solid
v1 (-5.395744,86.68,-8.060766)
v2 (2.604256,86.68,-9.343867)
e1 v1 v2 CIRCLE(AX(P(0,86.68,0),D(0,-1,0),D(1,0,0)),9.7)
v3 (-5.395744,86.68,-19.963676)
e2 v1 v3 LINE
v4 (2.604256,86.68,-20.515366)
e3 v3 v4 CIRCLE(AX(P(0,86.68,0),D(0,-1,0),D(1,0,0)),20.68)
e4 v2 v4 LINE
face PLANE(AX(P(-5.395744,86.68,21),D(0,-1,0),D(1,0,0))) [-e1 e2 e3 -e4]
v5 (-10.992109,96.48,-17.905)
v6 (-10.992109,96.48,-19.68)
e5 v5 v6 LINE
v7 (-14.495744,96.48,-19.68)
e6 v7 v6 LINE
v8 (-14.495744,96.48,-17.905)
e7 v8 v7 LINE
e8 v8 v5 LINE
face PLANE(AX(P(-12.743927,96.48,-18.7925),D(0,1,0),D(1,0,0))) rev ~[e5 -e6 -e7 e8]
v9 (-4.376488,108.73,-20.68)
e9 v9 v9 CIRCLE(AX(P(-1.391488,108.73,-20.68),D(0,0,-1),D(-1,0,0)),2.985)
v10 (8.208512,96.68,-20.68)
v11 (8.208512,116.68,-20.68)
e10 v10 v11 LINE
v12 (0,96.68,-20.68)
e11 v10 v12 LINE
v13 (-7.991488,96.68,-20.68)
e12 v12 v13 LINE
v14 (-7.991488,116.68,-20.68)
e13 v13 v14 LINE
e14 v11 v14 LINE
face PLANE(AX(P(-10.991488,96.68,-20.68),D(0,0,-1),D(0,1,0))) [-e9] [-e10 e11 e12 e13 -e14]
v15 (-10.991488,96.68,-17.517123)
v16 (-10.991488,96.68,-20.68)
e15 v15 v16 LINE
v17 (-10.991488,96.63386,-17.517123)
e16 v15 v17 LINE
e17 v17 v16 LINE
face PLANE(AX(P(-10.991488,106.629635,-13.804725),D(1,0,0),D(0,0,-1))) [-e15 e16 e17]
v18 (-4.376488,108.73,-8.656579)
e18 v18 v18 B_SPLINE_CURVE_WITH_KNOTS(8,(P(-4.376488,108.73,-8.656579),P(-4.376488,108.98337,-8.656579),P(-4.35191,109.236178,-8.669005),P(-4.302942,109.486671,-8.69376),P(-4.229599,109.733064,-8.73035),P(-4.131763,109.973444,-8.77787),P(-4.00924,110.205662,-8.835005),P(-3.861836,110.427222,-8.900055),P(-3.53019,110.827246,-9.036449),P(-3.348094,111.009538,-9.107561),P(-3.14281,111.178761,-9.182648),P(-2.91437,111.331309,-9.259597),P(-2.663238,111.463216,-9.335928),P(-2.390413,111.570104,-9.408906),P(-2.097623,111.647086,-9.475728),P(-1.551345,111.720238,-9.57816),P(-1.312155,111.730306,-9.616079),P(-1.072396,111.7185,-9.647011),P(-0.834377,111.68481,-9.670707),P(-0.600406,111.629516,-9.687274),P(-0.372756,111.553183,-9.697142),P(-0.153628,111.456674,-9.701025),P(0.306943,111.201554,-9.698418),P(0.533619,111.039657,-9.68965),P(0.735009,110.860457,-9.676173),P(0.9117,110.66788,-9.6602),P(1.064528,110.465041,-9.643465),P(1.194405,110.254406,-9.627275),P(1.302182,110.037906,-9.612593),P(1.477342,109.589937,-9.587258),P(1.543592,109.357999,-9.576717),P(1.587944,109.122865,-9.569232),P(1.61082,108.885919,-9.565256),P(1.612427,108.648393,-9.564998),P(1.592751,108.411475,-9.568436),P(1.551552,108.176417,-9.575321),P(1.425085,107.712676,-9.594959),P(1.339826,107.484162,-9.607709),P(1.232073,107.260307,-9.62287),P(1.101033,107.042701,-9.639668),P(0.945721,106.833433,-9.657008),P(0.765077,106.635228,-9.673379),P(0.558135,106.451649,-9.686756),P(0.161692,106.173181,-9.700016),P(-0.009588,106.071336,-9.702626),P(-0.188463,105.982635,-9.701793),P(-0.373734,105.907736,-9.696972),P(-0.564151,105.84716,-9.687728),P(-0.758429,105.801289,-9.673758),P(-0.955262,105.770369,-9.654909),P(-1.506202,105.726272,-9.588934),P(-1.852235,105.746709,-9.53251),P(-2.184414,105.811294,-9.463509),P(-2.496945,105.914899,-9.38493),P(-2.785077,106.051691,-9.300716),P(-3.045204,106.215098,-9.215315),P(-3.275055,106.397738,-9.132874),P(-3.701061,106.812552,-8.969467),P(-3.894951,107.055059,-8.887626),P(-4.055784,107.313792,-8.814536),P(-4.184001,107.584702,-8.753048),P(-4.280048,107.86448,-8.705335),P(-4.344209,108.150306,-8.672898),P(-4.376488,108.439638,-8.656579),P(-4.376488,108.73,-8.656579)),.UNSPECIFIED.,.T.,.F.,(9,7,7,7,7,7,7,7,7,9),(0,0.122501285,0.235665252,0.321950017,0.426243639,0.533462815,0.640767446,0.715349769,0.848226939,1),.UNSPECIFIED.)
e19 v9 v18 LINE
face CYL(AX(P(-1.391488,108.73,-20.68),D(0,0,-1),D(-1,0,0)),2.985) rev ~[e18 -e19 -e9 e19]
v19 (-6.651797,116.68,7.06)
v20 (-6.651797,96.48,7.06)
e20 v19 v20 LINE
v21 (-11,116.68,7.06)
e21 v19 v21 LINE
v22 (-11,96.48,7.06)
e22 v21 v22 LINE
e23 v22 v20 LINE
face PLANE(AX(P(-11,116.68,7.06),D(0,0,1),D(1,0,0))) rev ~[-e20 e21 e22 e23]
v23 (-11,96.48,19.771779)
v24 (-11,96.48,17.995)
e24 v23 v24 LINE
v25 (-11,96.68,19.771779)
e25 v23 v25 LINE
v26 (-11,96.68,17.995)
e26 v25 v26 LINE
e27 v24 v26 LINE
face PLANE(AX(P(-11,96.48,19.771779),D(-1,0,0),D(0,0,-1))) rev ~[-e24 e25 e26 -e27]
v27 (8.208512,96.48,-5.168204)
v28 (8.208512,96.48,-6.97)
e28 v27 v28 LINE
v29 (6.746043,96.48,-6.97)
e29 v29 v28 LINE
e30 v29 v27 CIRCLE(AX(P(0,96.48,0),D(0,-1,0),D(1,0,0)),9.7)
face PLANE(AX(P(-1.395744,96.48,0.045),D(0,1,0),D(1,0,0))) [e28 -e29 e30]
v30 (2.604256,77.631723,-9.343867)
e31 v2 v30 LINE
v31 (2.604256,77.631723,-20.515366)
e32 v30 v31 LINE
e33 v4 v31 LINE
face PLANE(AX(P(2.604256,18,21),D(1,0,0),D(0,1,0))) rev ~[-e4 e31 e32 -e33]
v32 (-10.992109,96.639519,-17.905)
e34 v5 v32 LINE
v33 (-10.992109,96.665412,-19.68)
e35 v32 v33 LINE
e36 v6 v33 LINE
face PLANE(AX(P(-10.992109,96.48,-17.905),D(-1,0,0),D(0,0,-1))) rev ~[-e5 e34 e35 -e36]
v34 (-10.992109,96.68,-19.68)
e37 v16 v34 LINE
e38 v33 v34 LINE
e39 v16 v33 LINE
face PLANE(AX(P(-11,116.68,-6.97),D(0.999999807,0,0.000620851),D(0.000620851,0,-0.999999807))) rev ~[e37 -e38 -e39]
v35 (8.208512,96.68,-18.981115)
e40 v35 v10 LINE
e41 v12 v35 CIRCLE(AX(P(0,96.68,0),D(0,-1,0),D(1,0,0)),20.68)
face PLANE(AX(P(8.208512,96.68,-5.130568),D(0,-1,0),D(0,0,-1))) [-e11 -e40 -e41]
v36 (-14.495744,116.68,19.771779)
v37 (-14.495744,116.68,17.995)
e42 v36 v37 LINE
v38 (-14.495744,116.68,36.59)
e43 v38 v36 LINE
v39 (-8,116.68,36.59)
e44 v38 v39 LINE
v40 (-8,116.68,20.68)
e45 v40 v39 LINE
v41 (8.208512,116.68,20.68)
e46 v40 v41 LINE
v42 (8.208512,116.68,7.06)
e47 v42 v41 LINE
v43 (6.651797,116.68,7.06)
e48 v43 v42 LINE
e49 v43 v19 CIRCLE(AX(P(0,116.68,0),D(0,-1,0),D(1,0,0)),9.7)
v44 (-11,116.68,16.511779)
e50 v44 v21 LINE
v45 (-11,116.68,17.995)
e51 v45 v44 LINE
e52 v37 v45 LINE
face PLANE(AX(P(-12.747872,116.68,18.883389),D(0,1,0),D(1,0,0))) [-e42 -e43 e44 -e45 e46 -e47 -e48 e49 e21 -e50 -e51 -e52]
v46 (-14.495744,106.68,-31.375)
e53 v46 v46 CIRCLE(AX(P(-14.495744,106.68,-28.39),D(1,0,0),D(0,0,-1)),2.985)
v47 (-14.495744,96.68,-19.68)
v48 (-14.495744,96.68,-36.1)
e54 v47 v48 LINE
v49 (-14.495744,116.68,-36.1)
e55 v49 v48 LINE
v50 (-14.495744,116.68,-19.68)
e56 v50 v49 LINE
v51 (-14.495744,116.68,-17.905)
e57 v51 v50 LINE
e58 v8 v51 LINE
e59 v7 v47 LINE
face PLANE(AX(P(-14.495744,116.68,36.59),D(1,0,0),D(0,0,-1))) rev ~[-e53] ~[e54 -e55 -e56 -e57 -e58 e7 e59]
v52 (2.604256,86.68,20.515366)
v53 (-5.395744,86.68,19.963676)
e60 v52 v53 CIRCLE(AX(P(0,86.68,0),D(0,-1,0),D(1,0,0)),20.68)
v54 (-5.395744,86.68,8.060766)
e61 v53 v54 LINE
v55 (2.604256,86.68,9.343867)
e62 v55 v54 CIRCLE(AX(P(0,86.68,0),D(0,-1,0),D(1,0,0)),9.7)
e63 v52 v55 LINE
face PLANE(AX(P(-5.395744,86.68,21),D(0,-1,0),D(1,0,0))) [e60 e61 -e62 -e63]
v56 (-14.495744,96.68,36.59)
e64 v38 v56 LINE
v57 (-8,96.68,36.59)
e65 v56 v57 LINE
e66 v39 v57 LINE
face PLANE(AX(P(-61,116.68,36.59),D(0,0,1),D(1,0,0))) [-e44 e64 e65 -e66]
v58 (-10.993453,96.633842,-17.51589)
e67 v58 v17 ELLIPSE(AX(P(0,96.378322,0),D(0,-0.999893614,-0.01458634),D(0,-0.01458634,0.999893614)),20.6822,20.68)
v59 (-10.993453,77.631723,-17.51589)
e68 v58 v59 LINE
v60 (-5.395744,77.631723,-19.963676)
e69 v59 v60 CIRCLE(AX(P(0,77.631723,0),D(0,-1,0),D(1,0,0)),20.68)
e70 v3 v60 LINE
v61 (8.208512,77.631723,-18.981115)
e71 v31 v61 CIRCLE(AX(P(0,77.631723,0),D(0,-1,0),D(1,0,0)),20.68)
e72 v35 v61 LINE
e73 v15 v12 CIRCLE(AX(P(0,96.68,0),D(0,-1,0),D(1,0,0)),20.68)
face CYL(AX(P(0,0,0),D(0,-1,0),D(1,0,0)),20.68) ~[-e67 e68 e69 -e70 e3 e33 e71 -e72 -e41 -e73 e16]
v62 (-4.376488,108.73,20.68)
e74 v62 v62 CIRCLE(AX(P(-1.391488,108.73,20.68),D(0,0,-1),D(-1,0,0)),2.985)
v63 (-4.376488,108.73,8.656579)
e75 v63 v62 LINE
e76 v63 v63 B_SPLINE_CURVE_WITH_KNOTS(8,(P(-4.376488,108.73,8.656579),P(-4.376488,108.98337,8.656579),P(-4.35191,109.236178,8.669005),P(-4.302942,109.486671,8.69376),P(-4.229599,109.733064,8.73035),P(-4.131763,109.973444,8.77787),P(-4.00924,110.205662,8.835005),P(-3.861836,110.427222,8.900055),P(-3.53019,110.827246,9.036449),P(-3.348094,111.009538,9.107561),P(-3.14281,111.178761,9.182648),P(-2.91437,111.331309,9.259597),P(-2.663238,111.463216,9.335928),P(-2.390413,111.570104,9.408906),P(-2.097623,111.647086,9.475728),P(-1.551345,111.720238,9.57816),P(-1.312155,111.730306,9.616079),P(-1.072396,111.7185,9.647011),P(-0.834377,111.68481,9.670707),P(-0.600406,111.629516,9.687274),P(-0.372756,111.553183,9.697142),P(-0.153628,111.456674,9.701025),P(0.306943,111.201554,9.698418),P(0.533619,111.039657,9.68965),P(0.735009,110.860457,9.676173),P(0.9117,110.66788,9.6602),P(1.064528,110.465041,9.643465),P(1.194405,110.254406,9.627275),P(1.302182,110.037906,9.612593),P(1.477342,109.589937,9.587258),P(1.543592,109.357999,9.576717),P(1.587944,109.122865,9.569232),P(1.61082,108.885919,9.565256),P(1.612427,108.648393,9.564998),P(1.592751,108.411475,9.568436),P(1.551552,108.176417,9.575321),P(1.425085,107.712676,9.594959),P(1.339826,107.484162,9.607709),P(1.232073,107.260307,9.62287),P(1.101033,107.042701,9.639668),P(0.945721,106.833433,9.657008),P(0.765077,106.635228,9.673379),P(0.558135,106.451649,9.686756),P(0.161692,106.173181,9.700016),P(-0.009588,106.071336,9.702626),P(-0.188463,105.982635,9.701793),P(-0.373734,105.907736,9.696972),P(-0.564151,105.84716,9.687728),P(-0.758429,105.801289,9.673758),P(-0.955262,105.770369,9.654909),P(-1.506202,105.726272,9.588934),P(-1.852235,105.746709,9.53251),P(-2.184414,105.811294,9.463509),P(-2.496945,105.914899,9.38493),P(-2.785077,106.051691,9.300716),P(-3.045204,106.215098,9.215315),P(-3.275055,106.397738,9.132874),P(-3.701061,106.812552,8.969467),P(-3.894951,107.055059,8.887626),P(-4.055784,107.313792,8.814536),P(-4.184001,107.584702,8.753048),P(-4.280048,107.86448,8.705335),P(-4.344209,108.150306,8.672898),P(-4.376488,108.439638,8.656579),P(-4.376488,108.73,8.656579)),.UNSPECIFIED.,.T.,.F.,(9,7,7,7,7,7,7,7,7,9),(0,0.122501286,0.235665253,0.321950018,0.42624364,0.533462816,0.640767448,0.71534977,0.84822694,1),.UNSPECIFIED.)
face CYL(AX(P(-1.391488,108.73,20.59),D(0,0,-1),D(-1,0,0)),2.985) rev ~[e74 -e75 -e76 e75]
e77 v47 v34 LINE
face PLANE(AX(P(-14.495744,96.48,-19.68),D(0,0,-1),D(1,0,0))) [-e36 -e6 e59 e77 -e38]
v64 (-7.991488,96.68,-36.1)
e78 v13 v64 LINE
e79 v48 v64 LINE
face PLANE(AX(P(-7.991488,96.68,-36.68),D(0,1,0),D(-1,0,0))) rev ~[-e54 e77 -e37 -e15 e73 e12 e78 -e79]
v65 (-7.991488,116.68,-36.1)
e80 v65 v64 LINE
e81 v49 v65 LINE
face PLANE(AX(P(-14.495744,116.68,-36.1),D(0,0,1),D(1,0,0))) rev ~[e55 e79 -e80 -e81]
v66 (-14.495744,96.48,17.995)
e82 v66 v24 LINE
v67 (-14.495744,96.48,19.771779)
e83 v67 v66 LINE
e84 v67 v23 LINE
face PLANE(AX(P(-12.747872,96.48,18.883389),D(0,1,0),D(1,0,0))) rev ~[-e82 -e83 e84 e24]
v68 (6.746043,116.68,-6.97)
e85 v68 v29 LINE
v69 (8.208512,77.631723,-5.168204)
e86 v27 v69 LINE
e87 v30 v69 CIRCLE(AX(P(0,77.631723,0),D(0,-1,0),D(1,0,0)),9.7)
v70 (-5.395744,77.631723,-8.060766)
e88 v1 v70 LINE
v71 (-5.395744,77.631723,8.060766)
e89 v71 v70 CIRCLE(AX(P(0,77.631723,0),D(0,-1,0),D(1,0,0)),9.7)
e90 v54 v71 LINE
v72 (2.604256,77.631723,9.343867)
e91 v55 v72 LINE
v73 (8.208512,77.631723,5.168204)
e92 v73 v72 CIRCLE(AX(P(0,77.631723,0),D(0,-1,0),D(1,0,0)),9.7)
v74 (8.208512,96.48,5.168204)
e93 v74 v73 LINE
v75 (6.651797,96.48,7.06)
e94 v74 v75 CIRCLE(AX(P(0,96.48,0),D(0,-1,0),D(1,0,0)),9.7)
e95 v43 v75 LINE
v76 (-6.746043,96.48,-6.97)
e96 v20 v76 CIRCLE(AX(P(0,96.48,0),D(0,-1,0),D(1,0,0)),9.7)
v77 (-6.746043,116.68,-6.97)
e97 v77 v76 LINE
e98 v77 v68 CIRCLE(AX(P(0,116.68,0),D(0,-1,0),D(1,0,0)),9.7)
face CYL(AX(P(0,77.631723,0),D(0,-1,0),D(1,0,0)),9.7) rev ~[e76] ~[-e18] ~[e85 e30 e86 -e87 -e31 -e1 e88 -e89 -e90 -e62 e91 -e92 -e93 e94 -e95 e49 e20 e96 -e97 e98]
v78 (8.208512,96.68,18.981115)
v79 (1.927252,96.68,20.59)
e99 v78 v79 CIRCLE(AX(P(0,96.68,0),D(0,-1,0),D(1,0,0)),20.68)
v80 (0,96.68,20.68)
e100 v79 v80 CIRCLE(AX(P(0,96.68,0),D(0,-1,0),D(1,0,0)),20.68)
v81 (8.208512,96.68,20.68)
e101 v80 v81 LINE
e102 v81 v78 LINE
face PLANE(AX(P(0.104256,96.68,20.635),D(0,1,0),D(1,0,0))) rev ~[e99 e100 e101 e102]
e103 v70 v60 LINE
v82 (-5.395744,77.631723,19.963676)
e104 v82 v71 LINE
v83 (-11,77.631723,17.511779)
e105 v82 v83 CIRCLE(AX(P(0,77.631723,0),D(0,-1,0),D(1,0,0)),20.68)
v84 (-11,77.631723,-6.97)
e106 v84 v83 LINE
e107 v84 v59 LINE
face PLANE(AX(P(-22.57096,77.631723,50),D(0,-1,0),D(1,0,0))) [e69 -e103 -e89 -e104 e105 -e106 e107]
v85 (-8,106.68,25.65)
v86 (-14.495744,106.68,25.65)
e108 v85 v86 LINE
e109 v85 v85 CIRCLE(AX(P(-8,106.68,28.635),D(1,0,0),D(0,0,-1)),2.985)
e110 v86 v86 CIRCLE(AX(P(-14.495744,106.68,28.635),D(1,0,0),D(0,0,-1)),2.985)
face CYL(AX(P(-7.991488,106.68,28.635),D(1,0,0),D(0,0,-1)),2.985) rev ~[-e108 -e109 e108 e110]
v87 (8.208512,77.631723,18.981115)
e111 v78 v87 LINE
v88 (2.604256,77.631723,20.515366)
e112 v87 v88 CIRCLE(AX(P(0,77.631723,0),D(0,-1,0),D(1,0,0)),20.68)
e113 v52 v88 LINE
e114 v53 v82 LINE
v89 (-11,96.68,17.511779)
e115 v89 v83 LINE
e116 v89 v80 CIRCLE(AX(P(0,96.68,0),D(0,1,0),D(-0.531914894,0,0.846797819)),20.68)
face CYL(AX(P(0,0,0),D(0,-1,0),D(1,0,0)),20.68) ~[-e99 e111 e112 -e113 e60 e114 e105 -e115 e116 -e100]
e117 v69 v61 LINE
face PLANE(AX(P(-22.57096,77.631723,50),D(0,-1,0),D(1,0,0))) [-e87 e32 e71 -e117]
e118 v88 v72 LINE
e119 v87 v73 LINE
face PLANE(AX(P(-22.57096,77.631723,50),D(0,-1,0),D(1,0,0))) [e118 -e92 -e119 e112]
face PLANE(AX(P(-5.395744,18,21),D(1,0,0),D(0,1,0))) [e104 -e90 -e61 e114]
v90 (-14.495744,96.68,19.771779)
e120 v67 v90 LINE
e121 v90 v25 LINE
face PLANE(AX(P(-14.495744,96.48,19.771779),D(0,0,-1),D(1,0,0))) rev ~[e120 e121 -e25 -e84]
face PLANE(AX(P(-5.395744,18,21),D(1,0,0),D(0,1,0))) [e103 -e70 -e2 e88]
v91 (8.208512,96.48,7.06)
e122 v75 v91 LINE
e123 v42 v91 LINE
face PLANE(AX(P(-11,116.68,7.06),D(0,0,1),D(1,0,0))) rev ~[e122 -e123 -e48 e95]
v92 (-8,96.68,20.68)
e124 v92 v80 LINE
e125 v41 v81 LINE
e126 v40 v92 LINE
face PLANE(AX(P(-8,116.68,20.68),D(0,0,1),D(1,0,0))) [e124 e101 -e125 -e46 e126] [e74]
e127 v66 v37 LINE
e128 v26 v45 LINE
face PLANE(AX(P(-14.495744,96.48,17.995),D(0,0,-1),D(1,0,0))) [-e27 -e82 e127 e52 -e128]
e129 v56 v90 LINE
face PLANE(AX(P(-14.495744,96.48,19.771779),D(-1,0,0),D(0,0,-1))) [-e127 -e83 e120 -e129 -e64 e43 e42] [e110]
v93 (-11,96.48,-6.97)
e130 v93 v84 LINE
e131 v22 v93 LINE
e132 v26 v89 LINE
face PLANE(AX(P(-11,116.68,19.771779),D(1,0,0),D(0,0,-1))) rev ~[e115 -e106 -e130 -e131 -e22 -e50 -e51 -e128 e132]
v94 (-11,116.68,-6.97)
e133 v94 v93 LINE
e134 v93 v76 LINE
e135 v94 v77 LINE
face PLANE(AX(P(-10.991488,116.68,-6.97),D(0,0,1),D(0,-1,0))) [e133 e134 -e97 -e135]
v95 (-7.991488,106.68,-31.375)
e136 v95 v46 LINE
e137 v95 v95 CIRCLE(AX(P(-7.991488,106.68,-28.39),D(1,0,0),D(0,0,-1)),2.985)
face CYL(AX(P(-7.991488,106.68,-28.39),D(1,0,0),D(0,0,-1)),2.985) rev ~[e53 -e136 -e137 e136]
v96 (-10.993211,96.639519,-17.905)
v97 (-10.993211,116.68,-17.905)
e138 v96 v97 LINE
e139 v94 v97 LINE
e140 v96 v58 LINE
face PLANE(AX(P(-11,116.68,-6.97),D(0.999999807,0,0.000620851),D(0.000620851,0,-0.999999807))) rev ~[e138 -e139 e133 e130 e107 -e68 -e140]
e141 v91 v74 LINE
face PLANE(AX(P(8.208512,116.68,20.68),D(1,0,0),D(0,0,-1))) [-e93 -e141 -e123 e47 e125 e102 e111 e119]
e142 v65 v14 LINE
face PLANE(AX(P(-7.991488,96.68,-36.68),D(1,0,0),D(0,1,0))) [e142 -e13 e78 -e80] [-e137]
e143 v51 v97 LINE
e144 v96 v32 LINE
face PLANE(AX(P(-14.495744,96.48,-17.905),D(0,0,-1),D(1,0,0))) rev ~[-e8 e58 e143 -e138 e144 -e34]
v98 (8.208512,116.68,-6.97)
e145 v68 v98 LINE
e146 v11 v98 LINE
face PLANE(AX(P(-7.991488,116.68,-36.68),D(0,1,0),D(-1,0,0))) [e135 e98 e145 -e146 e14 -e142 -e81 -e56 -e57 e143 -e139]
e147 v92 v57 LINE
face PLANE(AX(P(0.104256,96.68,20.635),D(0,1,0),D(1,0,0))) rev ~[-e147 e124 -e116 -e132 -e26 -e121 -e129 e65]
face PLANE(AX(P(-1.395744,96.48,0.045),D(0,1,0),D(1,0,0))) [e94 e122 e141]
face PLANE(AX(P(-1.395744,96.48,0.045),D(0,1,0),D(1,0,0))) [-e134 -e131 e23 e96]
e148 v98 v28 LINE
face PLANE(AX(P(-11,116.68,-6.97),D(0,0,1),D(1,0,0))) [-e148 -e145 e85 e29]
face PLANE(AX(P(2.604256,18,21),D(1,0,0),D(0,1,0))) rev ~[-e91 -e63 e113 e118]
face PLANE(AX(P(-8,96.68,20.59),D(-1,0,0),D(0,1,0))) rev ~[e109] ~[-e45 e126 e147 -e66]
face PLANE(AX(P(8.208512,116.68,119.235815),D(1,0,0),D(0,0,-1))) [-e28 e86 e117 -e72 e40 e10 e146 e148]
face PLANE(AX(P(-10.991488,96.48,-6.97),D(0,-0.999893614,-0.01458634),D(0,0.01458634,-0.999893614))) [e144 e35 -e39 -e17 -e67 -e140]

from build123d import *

# Parameters (mm, degrees)
SKETCH_1_R           = 20.68
SKETCH_1_R_2         = 9.68
EXTRUDE_1_DEPTH      = 116.68
SKETCH_11_W          = 27
SKETCH_11_H          = 150
CUT_EXTRUDE_3_DEPTH  = 40
SKETCH_13_W          = 10
SKETCH_13_H          = 128.345013401
CUT_EXTRUDE_7_DEPTH  = 126.614916312
SKETCH_15_W          = 8
SKETCH_15_H          = 68.68
CUT_EXTRUDE_9_DEPTH  = 48
SKETCH_16_W          = 15.549431524
SKETCH_16_H          = 20
SKETCH_16_W_2        = 15.459431524
EXTRUDE_4_DEPTH      = 19.2
SKETCH_17_W          = 19.20851187
SKETCH_17_H          = 14.03
CUT_EXTRUDE_10_DEPTH = 20.2
SKETCH_18_R          = 9.59
CUT_EXTRUDE_11_DEPTH = 121.289430957
SKETCH_21_R          = 2.985
CUT_EXTRUDE_12_DEPTH = 55.2
EXTRUDE_START        = 55.2
SKETCH_24_R          = 20.59
SKETCH_24_R_2        = 9.59
EXTRUDE_2_DEPTH      = 55.2
CUT_EXTRUDE_13_DEPTH = 55.2
SKETCH_26_W          = 10.00851187
SKETCH_26_H          = 41.68
CUT_EXTRUDE_15_DEPTH = 55.2
SKETCH_27_W          = 10
SKETCH_27_H          = 40
CUT_EXTRUDE_16_DEPTH = 55.2
SKETCH_28_W          = 44.880694938
SKETCH_28_H          = 9.608044066
CUT_EXTRUDE_17_DEPTH = 12.2
SKETCH_35_W          = 13.53
SKETCH_35_H          = 20
EXTRUDE_10_DEPTH     = 15
EXTRUDE_11_DEPTH     = 15
SKETCH_37_W          = 9
SKETCH_37_H          = 20
EXTRUDE_12_DEPTH     = 20
SKETCH_38_W          = 9
SKETCH_38_H          = 20
EXTRUDE_13_DEPTH     = 20
SKETCH_42_R          = 2.985
CUT_EXTRUDE_21_DEPTH = 20
CUT_EXTRUDE_23_DEPTH = 138.235841092
SKETCH_45_W          = 3
SKETCH_45_H          = 20
EXTRUDE_14_DEPTH     = 30
SKETCH_46_W          = 3
SKETCH_46_H          = 20
EXTRUDE_15_DEPTH     = 30
SKETCH_47_W          = 33.078221107
SKETCH_47_H          = 20
EXTRUDE_16_DEPTH     = 50
SKETCH_48_W          = 30
SKETCH_48_H          = 20
EXTRUDE_17_DEPTH     = 50
SKETCH_50_W          = 50
SKETCH_50_H          = 20
EXTRUDE_18_DEPTH     = 1
SKETCH_51_W          = 50
SKETCH_51_H          = 20
EXTRUDE_19_DEPTH     = 1
SKETCH_52_W          = 53
SKETCH_52_H          = 14
CUT_EXTRUDE_24_DEPTH = 151.972575738
SKETCH_53_W          = 53
SKETCH_53_H          = 14
CUT_EXTRUDE_25_DEPTH = 151.942387436
SKETCH_54_W          = 40
SKETCH_54_H          = 73.27
CUT_EXTRUDE_26_DEPTH = 147.866192927
SKETCH_56_W          = 13.00851187
SKETCH_56_H          = 20
EXTRUDE_21_DEPTH     = 3.08
SKETCH_58_W          = 44.672014854
SKETCH_58_H          = 95.939897673
CUT_EXTRUDE_28_DEPTH = 149.701311438
SKETCH_59_R          = 9.7
CUT_EXTRUDE_29_DEPTH = 60.553551814
SKETCH_60_W          = 6.504255935
SKETCH_60_H          = 76.35
CUT_EXTRUDE_30_DEPTH = 60.553551814
CUT_EXTRUDE_32_DEPTH = 20
SKETCH_64_W          = 16.20851187
SKETCH_64_H          = 0.09
EXTRUDE_22_DEPTH     = 20
SKETCH_65_W          = 3.495744065
SKETCH_65_H          = 3.26
CUT_EXTRUDE_33_DEPTH = 58.582567932
SKETCH_66_W          = 3.495744065
SKETCH_66_H          = 1.776778893
SKETCH_66_W_2        = 3.503635083
SKETCH_66_H_2        = 1.775
EXTRUDE_23_DEPTH     = 20.2
SKETCH_68_W          = 6.504255935
SKETCH_68_H          = 3.66
CUT_EXTRUDE_34_DEPTH = 20
SKETCH_69_R          = 2.985
CUT_EXTRUDE_35_DEPTH = 124.351086443
SKETCH_70_R          = 2.985
CUT_EXTRUDE_36_DEPTH = 131.530092773


with BuildPart() as part:
    # 草圖1 → 伸長-薄件1 (new body)
    with BuildSketch(Plane(origin=(0, 0, 0), x_dir=(1, 0, 0), z_dir=(0, 1, 0))):
        Circle(SKETCH_1_R)
        Circle(SKETCH_1_R_2, mode=Mode.SUBTRACT)
    extrude(amount=EXTRUDE_1_DEPTH)

    # 草圖11 → 除料-伸長3 (cut)
    with BuildSketch(Plane(origin=(0, 116.68, 0), x_dir=(1, 0, 0), z_dir=(0, 1, 0))):
        with Locations((21.70851187, -44.235815192)):
            Rectangle(SKETCH_11_W, SKETCH_11_H)
    extrude(amount=-CUT_EXTRUDE_3_DEPTH, mode=Mode.SUBTRACT)

    # 草圖13 → 除料-伸長7 (cut, through all)
    with BuildSketch(Plane.XY.offset(21)):
        with Locations((-16, 58.612182466)):
            Rectangle(SKETCH_13_W, SKETCH_13_H)
    extrude(amount=-CUT_EXTRUDE_7_DEPTH, mode=Mode.SUBTRACT)

    # 草圖15 → 除料-伸長9 (cut)
    with BuildSketch(Plane.XY.offset(21)):
        with Locations((-1.395744065, 52.34)):
            Rectangle(SKETCH_15_W, SKETCH_15_H)
    extrude(amount=-CUT_EXTRUDE_9_DEPTH, mode=Mode.SUBTRACT)

    # 草圖16 → 填料-伸長4 (add)
    with BuildSketch(Plane(origin=(8.20851187, 0, 0), x_dir=(0, 0, -1), z_dir=(1, 0, 0))):
        with Locations((12.905284238, 106.68)):
            Rectangle(SKETCH_16_W, SKETCH_16_H)
        with Locations((-12.860284238, 106.68)):
            Rectangle(SKETCH_16_W_2, SKETCH_16_H)
    extrude(amount=-EXTRUDE_4_DEPTH)

    # 草圖17 → 除料-伸長10 (cut)
    with BuildSketch(Plane(origin=(0, 116.68, 0), x_dir=(1, 0, 0), z_dir=(0, 1, 0))):
        with Locations((-1.395744065, -0.045)):
            Rectangle(SKETCH_17_W, SKETCH_17_H)
    extrude(amount=-CUT_EXTRUDE_10_DEPTH, mode=Mode.SUBTRACT)

    # 草圖18 → 除料-伸長11 (cut, through all)
    with BuildSketch(Plane.XZ):
        with Locations(Location((0, 0, 0), (0, 0, 90))):
            Circle(SKETCH_18_R)
    extrude(amount=-CUT_EXTRUDE_11_DEPTH, mode=Mode.SUBTRACT)

    # 草圖21 → 除料-伸長12 (cut)
    with BuildSketch(Plane(origin=(0, 0, -20.68), x_dir=(-1, 0, 0), z_dir=(0, 0, -1))):
        with Locations((1.39148813, 108.73)):
            Circle(SKETCH_21_R)
    extrude(amount=-CUT_EXTRUDE_12_DEPTH, mode=Mode.SUBTRACT)

    # 草圖24 → 伸長-薄件2 (add)
    with BuildSketch(Plane.XZ.offset(EXTRUDE_START)):
        Circle(SKETCH_24_R)
        Circle(SKETCH_24_R_2, mode=Mode.SUBTRACT)
    extrude(amount=-EXTRUDE_2_DEPTH)

    # 草圖25 → 除料-伸長13 (cut)
    with BuildSketch(Plane.XY.offset(21)):
        Polygon((-1.39148813, -11.785), (22.612379708, -11.785), (22.612379708, -63.873337429), (-22.749525245, -63.873337429), (-22.749525245, -11.785), align=None)
    extrude(amount=-CUT_EXTRUDE_13_DEPTH, mode=Mode.SUBTRACT)

    # 草圖26 → 除料-伸長15 (cut)
    with BuildSketch(Plane(origin=(0, 0, 0), x_dir=(1, 0, 0), z_dir=(0, 1, 0))):
        with Locations((-15.995744065, -0.16)):
            Rectangle(SKETCH_26_W, SKETCH_26_H)
    extrude(amount=-CUT_EXTRUDE_15_DEPTH, mode=Mode.SUBTRACT)

    # 草圖27 → 除料-伸長16 (cut)
    with BuildSketch(Plane(origin=(21, 0, 0), x_dir=(0, 0, -1), z_dir=(1, 0, 0))):
        with Locations((0, 41.68)):
            Rectangle(SKETCH_27_W, SKETCH_27_H)
    extrude(amount=-CUT_EXTRUDE_16_DEPTH, mode=Mode.SUBTRACT)

    # 草圖28 → 除料-伸長17 (cut)
    with BuildSketch(Plane(origin=(21, 0, 0), x_dir=(0, 0, -1), z_dir=(1, 0, 0))):
        Rectangle(SKETCH_28_W, SKETCH_28_H)
    extrude(amount=-CUT_EXTRUDE_17_DEPTH, mode=Mode.SUBTRACT)

    # 草圖35 → 填料-伸長10 (add)
    with BuildSketch(Plane.ZY.offset(10.99148813)):
        with Locations((13.825, 106.68)):
            Rectangle(SKETCH_35_W, SKETCH_35_H)
    extrude(amount=EXTRUDE_10_DEPTH)

    # 草圖36 → 填料-伸長11 (add)
    with BuildSketch(Plane.ZY.offset(10.99148813)):
        Polygon((-20.68, 116.68), (-6.97, 116.68), (-6.97, 96.48), (-20.68, 96.68), align=None)
    extrude(amount=EXTRUDE_11_DEPTH)

    # 草圖37 → 填料-伸長12 (add)
    with BuildSketch(Plane.XY.offset(20.59)):
        with Locations((-21.49148813, 106.68)):
            Rectangle(SKETCH_37_W, SKETCH_37_H)
    extrude(amount=EXTRUDE_12_DEPTH)

    # 草圖38 → 填料-伸長13 (add)
    with BuildSketch(Plane(origin=(0, 0, -20.68), x_dir=(-1, 0, 0), z_dir=(0, 0, -1))):
        with Locations((21.49148813, 106.68)):
            Rectangle(SKETCH_38_W, SKETCH_38_H)
    extrude(amount=EXTRUDE_13_DEPTH)

    # 草圖42 → 除料-伸長21 (cut)
    with BuildSketch(Plane(origin=(-16.99148813, 0, 0), x_dir=(0, 0, -1), z_dir=(1, 0, 0))):
        with Locations((30.68, 106.554418142)):
            Circle(SKETCH_42_R)
        with Locations((-30.395640125, 106.68)):
            Circle(SKETCH_42_R)
    extrude(amount=-CUT_EXTRUDE_21_DEPTH, mode=Mode.SUBTRACT)

    # 草圖43 → 除料-伸長23 (cut, through all)
    with BuildSketch(Plane(origin=(0, 116.68, 0), x_dir=(1, 0, 0), z_dir=(0, 1, 0))):
        Polygon((-11, 6.97), (-10.99148813, 20.68), (-10.99148813, 48.096794253), (-28.274756234, 48.096794253), (-28.274756234, -43.270506289), (-11, -43.270506289), align=None)
    extrude(amount=-CUT_EXTRUDE_23_DEPTH, mode=Mode.SUBTRACT)

    # 草圖45 → 填料-伸長14 (add)
    with BuildSketch(Plane.XY.offset(20.59)):
        with Locations((-9.5, 106.68)):
            Rectangle(SKETCH_45_W, SKETCH_45_H)
    extrude(amount=EXTRUDE_14_DEPTH)

    # 草圖46 → 填料-伸長15 (add)
    with BuildSketch(Plane(origin=(0, 0, -20.68), x_dir=(-1, 0, 0), z_dir=(0, 0, -1))):
        with Locations((9.49148813, 106.68)):
            Rectangle(SKETCH_46_W, SKETCH_46_H)
    extrude(amount=EXTRUDE_15_DEPTH)

    # 草圖47 → 填料-伸長16 (add)
    with BuildSketch(Plane.ZY.offset(11)):
        with Locations((34.050889447, 106.68)):
            Rectangle(SKETCH_47_W, SKETCH_47_H)
    extrude(amount=EXTRUDE_16_DEPTH)

    # 草圖48 → 填料-伸長17 (add)
    with BuildSketch(Plane.ZY.offset(10.99148813)):
        with Locations((-35.68, 106.68)):
            Rectangle(SKETCH_48_W, SKETCH_48_H)
    extrude(amount=EXTRUDE_17_DEPTH)

    # 草圖50 → 填料-伸長18 (add)
    with BuildSketch(Plane(origin=(0, 0, 17.511778893), x_dir=(-1, 0, 0), z_dir=(0, 0, -1))):
        with Locations((36, 106.68)):
            Rectangle(SKETCH_50_W, SKETCH_50_H)
    extrude(amount=EXTRUDE_18_DEPTH)

    # 草圖51 → 填料-伸長19 (add)
    with BuildSketch(Plane.XY.offset(-20.68)):
        with Locations((-35.99148813, 106.68)):
            Rectangle(SKETCH_51_W, SKETCH_51_H)
    extrude(amount=EXTRUDE_19_DEPTH)

    # 草圖52 → 除料-伸長24 (cut, through all)
    with BuildSketch(Plane(origin=(0, 116.68, 0), x_dir=(1, 0, 0), z_dir=(0, 1, 0))):
        with Locations((-34.49148813, 43.68)):
            Rectangle(SKETCH_52_W, SKETCH_52_H)
    extrude(amount=-CUT_EXTRUDE_24_DEPTH, mode=Mode.SUBTRACT)

    # 草圖53 → 除料-伸長25 (cut, through all)
    with BuildSketch(Plane(origin=(0, 116.68, 0), x_dir=(1, 0, 0), z_dir=(0, 1, 0))):
        with Locations((-34.5, -43.59)):
            Rectangle(SKETCH_53_W, SKETCH_53_H)
    extrude(amount=-CUT_EXTRUDE_25_DEPTH, mode=Mode.SUBTRACT)

    # 草圖54 → 除料-伸長26 (cut, through all)
    with BuildSketch(Plane(origin=(0, 116.68, 0), x_dir=(1, 0, 0), z_dir=(0, 1, 0))):
        with Locations((-41, 0.045)):
            Rectangle(SKETCH_54_W, SKETCH_54_H)
    extrude(amount=-CUT_EXTRUDE_26_DEPTH, mode=Mode.SUBTRACT)

    # 草圖56 → 填料-伸長21 (add)
    with BuildSketch(Plane(origin=(0, 0, -36.68), x_dir=(-1, 0, 0), z_dir=(0, 0, -1))):
        with Locations((14.495744065, 106.68)):
            Rectangle(SKETCH_56_W, SKETCH_56_H)
    extrude(amount=EXTRUDE_21_DEPTH)

    # 草圖58 → 除料-伸長28 (cut, through all)
    with BuildSketch(Plane.XY.offset(50)):
        with Locations((-0.234953045, 29.661774302)):
            Rectangle(SKETCH_58_W, SKETCH_58_H)
    extrude(amount=-CUT_EXTRUDE_28_DEPTH, mode=Mode.SUBTRACT)

    # 草圖59 → 除料-伸長29 (cut, through all)
    with BuildSketch(Plane.XZ.offset(-77.631723139)):
        Circle(SKETCH_59_R)
    extrude(amount=-CUT_EXTRUDE_29_DEPTH, mode=Mode.SUBTRACT)

    # 草圖60 → 除料-伸長30 (cut, through all)
    with BuildSketch(Plane(origin=(0, 116.68, 0), x_dir=(1, 0, 0), z_dir=(0, 1, 0))):
        with Locations((-17.747872032, 1.585)):
            Rectangle(SKETCH_60_W, SKETCH_60_H)
    extrude(amount=-CUT_EXTRUDE_30_DEPTH, mode=Mode.SUBTRACT)

    # 草圖61 → 除料-伸長32 (cut)
    with BuildSketch(Plane(origin=(0, 116.68, 0), x_dir=(1, 0, 0), z_dir=(0, 1, 0))):
        Polygon((1.92725193, -20.59), (1.92725193, -22.399121663), (-2.174190472, -21.421542421), (-2.174190472, -20.59), align=None)
    extrude(amount=-CUT_EXTRUDE_32_DEPTH, mode=Mode.SUBTRACT)

    # 草圖64 → 填料-伸長22 (add)
    with BuildSketch(Plane(origin=(0, 116.68, 0), x_dir=(1, 0, 0), z_dir=(0, 1, 0))):
        with Locations((0.104255935, -20.635)):
            Rectangle(SKETCH_64_W, SKETCH_64_H)
    extrude(amount=-EXTRUDE_22_DEPTH)

    # 草圖65 → 除料-伸長33 (cut, through all)
    with BuildSketch(Plane(origin=(0, 116.68, 0), x_dir=(1, 0, 0), z_dir=(0, 1, 0))):
        with Locations((-12.747872033, -18.141778893)):
            Rectangle(SKETCH_65_W, SKETCH_65_H)
    extrude(amount=-CUT_EXTRUDE_33_DEPTH, mode=Mode.SUBTRACT)

    # 草圖66 → 填料-伸長23 (add)
    with BuildSketch(Plane(origin=(0, 96.48, 0), x_dir=(1, 0, 0), z_dir=(0, 1, 0))):
        with Locations((-12.747872033, -18.883389447)):
            Rectangle(SKETCH_66_W, SKETCH_66_H)
        with Locations((-12.743926524, 18.7925)):
            Rectangle(SKETCH_66_W_2, SKETCH_66_H_2)
    extrude(amount=EXTRUDE_23_DEPTH)

    # 草圖68 → 除料-伸長34 (cut)
    with BuildSketch(Plane(origin=(0, 116.68, 0), x_dir=(1, 0, 0), z_dir=(0, 1, 0))):
        with Locations((-11.243616098, 37.93)):
            Rectangle(SKETCH_68_W, SKETCH_68_H)
    extrude(amount=-CUT_EXTRUDE_34_DEPTH, mode=Mode.SUBTRACT)

    # 草圖69 → 除料-伸長35 (cut, through all)
    with BuildSketch(Plane(origin=(-7.99148813, 0, 0), x_dir=(0, 0, -1), z_dir=(1, 0, 0))):
        with Locations((28.39, 106.68)):
            Circle(SKETCH_69_R)
        with Locations((-28.635, 106.68)):
            Circle(SKETCH_69_R)
    extrude(amount=-CUT_EXTRUDE_35_DEPTH, mode=Mode.SUBTRACT)

    # 草圖70 → 除料-伸長36 (cut, through all)
    with BuildSketch(Plane(origin=(0, 0, 20.59), x_dir=(-1, 0, 0), z_dir=(0, 0, -1))):
        with Locations((1.39148813, 108.73)):
            Circle(SKETCH_70_R)
    extrude(amount=-CUT_EXTRUDE_36_DEPTH, mode=Mode.SUBTRACT)


solid = part.part
